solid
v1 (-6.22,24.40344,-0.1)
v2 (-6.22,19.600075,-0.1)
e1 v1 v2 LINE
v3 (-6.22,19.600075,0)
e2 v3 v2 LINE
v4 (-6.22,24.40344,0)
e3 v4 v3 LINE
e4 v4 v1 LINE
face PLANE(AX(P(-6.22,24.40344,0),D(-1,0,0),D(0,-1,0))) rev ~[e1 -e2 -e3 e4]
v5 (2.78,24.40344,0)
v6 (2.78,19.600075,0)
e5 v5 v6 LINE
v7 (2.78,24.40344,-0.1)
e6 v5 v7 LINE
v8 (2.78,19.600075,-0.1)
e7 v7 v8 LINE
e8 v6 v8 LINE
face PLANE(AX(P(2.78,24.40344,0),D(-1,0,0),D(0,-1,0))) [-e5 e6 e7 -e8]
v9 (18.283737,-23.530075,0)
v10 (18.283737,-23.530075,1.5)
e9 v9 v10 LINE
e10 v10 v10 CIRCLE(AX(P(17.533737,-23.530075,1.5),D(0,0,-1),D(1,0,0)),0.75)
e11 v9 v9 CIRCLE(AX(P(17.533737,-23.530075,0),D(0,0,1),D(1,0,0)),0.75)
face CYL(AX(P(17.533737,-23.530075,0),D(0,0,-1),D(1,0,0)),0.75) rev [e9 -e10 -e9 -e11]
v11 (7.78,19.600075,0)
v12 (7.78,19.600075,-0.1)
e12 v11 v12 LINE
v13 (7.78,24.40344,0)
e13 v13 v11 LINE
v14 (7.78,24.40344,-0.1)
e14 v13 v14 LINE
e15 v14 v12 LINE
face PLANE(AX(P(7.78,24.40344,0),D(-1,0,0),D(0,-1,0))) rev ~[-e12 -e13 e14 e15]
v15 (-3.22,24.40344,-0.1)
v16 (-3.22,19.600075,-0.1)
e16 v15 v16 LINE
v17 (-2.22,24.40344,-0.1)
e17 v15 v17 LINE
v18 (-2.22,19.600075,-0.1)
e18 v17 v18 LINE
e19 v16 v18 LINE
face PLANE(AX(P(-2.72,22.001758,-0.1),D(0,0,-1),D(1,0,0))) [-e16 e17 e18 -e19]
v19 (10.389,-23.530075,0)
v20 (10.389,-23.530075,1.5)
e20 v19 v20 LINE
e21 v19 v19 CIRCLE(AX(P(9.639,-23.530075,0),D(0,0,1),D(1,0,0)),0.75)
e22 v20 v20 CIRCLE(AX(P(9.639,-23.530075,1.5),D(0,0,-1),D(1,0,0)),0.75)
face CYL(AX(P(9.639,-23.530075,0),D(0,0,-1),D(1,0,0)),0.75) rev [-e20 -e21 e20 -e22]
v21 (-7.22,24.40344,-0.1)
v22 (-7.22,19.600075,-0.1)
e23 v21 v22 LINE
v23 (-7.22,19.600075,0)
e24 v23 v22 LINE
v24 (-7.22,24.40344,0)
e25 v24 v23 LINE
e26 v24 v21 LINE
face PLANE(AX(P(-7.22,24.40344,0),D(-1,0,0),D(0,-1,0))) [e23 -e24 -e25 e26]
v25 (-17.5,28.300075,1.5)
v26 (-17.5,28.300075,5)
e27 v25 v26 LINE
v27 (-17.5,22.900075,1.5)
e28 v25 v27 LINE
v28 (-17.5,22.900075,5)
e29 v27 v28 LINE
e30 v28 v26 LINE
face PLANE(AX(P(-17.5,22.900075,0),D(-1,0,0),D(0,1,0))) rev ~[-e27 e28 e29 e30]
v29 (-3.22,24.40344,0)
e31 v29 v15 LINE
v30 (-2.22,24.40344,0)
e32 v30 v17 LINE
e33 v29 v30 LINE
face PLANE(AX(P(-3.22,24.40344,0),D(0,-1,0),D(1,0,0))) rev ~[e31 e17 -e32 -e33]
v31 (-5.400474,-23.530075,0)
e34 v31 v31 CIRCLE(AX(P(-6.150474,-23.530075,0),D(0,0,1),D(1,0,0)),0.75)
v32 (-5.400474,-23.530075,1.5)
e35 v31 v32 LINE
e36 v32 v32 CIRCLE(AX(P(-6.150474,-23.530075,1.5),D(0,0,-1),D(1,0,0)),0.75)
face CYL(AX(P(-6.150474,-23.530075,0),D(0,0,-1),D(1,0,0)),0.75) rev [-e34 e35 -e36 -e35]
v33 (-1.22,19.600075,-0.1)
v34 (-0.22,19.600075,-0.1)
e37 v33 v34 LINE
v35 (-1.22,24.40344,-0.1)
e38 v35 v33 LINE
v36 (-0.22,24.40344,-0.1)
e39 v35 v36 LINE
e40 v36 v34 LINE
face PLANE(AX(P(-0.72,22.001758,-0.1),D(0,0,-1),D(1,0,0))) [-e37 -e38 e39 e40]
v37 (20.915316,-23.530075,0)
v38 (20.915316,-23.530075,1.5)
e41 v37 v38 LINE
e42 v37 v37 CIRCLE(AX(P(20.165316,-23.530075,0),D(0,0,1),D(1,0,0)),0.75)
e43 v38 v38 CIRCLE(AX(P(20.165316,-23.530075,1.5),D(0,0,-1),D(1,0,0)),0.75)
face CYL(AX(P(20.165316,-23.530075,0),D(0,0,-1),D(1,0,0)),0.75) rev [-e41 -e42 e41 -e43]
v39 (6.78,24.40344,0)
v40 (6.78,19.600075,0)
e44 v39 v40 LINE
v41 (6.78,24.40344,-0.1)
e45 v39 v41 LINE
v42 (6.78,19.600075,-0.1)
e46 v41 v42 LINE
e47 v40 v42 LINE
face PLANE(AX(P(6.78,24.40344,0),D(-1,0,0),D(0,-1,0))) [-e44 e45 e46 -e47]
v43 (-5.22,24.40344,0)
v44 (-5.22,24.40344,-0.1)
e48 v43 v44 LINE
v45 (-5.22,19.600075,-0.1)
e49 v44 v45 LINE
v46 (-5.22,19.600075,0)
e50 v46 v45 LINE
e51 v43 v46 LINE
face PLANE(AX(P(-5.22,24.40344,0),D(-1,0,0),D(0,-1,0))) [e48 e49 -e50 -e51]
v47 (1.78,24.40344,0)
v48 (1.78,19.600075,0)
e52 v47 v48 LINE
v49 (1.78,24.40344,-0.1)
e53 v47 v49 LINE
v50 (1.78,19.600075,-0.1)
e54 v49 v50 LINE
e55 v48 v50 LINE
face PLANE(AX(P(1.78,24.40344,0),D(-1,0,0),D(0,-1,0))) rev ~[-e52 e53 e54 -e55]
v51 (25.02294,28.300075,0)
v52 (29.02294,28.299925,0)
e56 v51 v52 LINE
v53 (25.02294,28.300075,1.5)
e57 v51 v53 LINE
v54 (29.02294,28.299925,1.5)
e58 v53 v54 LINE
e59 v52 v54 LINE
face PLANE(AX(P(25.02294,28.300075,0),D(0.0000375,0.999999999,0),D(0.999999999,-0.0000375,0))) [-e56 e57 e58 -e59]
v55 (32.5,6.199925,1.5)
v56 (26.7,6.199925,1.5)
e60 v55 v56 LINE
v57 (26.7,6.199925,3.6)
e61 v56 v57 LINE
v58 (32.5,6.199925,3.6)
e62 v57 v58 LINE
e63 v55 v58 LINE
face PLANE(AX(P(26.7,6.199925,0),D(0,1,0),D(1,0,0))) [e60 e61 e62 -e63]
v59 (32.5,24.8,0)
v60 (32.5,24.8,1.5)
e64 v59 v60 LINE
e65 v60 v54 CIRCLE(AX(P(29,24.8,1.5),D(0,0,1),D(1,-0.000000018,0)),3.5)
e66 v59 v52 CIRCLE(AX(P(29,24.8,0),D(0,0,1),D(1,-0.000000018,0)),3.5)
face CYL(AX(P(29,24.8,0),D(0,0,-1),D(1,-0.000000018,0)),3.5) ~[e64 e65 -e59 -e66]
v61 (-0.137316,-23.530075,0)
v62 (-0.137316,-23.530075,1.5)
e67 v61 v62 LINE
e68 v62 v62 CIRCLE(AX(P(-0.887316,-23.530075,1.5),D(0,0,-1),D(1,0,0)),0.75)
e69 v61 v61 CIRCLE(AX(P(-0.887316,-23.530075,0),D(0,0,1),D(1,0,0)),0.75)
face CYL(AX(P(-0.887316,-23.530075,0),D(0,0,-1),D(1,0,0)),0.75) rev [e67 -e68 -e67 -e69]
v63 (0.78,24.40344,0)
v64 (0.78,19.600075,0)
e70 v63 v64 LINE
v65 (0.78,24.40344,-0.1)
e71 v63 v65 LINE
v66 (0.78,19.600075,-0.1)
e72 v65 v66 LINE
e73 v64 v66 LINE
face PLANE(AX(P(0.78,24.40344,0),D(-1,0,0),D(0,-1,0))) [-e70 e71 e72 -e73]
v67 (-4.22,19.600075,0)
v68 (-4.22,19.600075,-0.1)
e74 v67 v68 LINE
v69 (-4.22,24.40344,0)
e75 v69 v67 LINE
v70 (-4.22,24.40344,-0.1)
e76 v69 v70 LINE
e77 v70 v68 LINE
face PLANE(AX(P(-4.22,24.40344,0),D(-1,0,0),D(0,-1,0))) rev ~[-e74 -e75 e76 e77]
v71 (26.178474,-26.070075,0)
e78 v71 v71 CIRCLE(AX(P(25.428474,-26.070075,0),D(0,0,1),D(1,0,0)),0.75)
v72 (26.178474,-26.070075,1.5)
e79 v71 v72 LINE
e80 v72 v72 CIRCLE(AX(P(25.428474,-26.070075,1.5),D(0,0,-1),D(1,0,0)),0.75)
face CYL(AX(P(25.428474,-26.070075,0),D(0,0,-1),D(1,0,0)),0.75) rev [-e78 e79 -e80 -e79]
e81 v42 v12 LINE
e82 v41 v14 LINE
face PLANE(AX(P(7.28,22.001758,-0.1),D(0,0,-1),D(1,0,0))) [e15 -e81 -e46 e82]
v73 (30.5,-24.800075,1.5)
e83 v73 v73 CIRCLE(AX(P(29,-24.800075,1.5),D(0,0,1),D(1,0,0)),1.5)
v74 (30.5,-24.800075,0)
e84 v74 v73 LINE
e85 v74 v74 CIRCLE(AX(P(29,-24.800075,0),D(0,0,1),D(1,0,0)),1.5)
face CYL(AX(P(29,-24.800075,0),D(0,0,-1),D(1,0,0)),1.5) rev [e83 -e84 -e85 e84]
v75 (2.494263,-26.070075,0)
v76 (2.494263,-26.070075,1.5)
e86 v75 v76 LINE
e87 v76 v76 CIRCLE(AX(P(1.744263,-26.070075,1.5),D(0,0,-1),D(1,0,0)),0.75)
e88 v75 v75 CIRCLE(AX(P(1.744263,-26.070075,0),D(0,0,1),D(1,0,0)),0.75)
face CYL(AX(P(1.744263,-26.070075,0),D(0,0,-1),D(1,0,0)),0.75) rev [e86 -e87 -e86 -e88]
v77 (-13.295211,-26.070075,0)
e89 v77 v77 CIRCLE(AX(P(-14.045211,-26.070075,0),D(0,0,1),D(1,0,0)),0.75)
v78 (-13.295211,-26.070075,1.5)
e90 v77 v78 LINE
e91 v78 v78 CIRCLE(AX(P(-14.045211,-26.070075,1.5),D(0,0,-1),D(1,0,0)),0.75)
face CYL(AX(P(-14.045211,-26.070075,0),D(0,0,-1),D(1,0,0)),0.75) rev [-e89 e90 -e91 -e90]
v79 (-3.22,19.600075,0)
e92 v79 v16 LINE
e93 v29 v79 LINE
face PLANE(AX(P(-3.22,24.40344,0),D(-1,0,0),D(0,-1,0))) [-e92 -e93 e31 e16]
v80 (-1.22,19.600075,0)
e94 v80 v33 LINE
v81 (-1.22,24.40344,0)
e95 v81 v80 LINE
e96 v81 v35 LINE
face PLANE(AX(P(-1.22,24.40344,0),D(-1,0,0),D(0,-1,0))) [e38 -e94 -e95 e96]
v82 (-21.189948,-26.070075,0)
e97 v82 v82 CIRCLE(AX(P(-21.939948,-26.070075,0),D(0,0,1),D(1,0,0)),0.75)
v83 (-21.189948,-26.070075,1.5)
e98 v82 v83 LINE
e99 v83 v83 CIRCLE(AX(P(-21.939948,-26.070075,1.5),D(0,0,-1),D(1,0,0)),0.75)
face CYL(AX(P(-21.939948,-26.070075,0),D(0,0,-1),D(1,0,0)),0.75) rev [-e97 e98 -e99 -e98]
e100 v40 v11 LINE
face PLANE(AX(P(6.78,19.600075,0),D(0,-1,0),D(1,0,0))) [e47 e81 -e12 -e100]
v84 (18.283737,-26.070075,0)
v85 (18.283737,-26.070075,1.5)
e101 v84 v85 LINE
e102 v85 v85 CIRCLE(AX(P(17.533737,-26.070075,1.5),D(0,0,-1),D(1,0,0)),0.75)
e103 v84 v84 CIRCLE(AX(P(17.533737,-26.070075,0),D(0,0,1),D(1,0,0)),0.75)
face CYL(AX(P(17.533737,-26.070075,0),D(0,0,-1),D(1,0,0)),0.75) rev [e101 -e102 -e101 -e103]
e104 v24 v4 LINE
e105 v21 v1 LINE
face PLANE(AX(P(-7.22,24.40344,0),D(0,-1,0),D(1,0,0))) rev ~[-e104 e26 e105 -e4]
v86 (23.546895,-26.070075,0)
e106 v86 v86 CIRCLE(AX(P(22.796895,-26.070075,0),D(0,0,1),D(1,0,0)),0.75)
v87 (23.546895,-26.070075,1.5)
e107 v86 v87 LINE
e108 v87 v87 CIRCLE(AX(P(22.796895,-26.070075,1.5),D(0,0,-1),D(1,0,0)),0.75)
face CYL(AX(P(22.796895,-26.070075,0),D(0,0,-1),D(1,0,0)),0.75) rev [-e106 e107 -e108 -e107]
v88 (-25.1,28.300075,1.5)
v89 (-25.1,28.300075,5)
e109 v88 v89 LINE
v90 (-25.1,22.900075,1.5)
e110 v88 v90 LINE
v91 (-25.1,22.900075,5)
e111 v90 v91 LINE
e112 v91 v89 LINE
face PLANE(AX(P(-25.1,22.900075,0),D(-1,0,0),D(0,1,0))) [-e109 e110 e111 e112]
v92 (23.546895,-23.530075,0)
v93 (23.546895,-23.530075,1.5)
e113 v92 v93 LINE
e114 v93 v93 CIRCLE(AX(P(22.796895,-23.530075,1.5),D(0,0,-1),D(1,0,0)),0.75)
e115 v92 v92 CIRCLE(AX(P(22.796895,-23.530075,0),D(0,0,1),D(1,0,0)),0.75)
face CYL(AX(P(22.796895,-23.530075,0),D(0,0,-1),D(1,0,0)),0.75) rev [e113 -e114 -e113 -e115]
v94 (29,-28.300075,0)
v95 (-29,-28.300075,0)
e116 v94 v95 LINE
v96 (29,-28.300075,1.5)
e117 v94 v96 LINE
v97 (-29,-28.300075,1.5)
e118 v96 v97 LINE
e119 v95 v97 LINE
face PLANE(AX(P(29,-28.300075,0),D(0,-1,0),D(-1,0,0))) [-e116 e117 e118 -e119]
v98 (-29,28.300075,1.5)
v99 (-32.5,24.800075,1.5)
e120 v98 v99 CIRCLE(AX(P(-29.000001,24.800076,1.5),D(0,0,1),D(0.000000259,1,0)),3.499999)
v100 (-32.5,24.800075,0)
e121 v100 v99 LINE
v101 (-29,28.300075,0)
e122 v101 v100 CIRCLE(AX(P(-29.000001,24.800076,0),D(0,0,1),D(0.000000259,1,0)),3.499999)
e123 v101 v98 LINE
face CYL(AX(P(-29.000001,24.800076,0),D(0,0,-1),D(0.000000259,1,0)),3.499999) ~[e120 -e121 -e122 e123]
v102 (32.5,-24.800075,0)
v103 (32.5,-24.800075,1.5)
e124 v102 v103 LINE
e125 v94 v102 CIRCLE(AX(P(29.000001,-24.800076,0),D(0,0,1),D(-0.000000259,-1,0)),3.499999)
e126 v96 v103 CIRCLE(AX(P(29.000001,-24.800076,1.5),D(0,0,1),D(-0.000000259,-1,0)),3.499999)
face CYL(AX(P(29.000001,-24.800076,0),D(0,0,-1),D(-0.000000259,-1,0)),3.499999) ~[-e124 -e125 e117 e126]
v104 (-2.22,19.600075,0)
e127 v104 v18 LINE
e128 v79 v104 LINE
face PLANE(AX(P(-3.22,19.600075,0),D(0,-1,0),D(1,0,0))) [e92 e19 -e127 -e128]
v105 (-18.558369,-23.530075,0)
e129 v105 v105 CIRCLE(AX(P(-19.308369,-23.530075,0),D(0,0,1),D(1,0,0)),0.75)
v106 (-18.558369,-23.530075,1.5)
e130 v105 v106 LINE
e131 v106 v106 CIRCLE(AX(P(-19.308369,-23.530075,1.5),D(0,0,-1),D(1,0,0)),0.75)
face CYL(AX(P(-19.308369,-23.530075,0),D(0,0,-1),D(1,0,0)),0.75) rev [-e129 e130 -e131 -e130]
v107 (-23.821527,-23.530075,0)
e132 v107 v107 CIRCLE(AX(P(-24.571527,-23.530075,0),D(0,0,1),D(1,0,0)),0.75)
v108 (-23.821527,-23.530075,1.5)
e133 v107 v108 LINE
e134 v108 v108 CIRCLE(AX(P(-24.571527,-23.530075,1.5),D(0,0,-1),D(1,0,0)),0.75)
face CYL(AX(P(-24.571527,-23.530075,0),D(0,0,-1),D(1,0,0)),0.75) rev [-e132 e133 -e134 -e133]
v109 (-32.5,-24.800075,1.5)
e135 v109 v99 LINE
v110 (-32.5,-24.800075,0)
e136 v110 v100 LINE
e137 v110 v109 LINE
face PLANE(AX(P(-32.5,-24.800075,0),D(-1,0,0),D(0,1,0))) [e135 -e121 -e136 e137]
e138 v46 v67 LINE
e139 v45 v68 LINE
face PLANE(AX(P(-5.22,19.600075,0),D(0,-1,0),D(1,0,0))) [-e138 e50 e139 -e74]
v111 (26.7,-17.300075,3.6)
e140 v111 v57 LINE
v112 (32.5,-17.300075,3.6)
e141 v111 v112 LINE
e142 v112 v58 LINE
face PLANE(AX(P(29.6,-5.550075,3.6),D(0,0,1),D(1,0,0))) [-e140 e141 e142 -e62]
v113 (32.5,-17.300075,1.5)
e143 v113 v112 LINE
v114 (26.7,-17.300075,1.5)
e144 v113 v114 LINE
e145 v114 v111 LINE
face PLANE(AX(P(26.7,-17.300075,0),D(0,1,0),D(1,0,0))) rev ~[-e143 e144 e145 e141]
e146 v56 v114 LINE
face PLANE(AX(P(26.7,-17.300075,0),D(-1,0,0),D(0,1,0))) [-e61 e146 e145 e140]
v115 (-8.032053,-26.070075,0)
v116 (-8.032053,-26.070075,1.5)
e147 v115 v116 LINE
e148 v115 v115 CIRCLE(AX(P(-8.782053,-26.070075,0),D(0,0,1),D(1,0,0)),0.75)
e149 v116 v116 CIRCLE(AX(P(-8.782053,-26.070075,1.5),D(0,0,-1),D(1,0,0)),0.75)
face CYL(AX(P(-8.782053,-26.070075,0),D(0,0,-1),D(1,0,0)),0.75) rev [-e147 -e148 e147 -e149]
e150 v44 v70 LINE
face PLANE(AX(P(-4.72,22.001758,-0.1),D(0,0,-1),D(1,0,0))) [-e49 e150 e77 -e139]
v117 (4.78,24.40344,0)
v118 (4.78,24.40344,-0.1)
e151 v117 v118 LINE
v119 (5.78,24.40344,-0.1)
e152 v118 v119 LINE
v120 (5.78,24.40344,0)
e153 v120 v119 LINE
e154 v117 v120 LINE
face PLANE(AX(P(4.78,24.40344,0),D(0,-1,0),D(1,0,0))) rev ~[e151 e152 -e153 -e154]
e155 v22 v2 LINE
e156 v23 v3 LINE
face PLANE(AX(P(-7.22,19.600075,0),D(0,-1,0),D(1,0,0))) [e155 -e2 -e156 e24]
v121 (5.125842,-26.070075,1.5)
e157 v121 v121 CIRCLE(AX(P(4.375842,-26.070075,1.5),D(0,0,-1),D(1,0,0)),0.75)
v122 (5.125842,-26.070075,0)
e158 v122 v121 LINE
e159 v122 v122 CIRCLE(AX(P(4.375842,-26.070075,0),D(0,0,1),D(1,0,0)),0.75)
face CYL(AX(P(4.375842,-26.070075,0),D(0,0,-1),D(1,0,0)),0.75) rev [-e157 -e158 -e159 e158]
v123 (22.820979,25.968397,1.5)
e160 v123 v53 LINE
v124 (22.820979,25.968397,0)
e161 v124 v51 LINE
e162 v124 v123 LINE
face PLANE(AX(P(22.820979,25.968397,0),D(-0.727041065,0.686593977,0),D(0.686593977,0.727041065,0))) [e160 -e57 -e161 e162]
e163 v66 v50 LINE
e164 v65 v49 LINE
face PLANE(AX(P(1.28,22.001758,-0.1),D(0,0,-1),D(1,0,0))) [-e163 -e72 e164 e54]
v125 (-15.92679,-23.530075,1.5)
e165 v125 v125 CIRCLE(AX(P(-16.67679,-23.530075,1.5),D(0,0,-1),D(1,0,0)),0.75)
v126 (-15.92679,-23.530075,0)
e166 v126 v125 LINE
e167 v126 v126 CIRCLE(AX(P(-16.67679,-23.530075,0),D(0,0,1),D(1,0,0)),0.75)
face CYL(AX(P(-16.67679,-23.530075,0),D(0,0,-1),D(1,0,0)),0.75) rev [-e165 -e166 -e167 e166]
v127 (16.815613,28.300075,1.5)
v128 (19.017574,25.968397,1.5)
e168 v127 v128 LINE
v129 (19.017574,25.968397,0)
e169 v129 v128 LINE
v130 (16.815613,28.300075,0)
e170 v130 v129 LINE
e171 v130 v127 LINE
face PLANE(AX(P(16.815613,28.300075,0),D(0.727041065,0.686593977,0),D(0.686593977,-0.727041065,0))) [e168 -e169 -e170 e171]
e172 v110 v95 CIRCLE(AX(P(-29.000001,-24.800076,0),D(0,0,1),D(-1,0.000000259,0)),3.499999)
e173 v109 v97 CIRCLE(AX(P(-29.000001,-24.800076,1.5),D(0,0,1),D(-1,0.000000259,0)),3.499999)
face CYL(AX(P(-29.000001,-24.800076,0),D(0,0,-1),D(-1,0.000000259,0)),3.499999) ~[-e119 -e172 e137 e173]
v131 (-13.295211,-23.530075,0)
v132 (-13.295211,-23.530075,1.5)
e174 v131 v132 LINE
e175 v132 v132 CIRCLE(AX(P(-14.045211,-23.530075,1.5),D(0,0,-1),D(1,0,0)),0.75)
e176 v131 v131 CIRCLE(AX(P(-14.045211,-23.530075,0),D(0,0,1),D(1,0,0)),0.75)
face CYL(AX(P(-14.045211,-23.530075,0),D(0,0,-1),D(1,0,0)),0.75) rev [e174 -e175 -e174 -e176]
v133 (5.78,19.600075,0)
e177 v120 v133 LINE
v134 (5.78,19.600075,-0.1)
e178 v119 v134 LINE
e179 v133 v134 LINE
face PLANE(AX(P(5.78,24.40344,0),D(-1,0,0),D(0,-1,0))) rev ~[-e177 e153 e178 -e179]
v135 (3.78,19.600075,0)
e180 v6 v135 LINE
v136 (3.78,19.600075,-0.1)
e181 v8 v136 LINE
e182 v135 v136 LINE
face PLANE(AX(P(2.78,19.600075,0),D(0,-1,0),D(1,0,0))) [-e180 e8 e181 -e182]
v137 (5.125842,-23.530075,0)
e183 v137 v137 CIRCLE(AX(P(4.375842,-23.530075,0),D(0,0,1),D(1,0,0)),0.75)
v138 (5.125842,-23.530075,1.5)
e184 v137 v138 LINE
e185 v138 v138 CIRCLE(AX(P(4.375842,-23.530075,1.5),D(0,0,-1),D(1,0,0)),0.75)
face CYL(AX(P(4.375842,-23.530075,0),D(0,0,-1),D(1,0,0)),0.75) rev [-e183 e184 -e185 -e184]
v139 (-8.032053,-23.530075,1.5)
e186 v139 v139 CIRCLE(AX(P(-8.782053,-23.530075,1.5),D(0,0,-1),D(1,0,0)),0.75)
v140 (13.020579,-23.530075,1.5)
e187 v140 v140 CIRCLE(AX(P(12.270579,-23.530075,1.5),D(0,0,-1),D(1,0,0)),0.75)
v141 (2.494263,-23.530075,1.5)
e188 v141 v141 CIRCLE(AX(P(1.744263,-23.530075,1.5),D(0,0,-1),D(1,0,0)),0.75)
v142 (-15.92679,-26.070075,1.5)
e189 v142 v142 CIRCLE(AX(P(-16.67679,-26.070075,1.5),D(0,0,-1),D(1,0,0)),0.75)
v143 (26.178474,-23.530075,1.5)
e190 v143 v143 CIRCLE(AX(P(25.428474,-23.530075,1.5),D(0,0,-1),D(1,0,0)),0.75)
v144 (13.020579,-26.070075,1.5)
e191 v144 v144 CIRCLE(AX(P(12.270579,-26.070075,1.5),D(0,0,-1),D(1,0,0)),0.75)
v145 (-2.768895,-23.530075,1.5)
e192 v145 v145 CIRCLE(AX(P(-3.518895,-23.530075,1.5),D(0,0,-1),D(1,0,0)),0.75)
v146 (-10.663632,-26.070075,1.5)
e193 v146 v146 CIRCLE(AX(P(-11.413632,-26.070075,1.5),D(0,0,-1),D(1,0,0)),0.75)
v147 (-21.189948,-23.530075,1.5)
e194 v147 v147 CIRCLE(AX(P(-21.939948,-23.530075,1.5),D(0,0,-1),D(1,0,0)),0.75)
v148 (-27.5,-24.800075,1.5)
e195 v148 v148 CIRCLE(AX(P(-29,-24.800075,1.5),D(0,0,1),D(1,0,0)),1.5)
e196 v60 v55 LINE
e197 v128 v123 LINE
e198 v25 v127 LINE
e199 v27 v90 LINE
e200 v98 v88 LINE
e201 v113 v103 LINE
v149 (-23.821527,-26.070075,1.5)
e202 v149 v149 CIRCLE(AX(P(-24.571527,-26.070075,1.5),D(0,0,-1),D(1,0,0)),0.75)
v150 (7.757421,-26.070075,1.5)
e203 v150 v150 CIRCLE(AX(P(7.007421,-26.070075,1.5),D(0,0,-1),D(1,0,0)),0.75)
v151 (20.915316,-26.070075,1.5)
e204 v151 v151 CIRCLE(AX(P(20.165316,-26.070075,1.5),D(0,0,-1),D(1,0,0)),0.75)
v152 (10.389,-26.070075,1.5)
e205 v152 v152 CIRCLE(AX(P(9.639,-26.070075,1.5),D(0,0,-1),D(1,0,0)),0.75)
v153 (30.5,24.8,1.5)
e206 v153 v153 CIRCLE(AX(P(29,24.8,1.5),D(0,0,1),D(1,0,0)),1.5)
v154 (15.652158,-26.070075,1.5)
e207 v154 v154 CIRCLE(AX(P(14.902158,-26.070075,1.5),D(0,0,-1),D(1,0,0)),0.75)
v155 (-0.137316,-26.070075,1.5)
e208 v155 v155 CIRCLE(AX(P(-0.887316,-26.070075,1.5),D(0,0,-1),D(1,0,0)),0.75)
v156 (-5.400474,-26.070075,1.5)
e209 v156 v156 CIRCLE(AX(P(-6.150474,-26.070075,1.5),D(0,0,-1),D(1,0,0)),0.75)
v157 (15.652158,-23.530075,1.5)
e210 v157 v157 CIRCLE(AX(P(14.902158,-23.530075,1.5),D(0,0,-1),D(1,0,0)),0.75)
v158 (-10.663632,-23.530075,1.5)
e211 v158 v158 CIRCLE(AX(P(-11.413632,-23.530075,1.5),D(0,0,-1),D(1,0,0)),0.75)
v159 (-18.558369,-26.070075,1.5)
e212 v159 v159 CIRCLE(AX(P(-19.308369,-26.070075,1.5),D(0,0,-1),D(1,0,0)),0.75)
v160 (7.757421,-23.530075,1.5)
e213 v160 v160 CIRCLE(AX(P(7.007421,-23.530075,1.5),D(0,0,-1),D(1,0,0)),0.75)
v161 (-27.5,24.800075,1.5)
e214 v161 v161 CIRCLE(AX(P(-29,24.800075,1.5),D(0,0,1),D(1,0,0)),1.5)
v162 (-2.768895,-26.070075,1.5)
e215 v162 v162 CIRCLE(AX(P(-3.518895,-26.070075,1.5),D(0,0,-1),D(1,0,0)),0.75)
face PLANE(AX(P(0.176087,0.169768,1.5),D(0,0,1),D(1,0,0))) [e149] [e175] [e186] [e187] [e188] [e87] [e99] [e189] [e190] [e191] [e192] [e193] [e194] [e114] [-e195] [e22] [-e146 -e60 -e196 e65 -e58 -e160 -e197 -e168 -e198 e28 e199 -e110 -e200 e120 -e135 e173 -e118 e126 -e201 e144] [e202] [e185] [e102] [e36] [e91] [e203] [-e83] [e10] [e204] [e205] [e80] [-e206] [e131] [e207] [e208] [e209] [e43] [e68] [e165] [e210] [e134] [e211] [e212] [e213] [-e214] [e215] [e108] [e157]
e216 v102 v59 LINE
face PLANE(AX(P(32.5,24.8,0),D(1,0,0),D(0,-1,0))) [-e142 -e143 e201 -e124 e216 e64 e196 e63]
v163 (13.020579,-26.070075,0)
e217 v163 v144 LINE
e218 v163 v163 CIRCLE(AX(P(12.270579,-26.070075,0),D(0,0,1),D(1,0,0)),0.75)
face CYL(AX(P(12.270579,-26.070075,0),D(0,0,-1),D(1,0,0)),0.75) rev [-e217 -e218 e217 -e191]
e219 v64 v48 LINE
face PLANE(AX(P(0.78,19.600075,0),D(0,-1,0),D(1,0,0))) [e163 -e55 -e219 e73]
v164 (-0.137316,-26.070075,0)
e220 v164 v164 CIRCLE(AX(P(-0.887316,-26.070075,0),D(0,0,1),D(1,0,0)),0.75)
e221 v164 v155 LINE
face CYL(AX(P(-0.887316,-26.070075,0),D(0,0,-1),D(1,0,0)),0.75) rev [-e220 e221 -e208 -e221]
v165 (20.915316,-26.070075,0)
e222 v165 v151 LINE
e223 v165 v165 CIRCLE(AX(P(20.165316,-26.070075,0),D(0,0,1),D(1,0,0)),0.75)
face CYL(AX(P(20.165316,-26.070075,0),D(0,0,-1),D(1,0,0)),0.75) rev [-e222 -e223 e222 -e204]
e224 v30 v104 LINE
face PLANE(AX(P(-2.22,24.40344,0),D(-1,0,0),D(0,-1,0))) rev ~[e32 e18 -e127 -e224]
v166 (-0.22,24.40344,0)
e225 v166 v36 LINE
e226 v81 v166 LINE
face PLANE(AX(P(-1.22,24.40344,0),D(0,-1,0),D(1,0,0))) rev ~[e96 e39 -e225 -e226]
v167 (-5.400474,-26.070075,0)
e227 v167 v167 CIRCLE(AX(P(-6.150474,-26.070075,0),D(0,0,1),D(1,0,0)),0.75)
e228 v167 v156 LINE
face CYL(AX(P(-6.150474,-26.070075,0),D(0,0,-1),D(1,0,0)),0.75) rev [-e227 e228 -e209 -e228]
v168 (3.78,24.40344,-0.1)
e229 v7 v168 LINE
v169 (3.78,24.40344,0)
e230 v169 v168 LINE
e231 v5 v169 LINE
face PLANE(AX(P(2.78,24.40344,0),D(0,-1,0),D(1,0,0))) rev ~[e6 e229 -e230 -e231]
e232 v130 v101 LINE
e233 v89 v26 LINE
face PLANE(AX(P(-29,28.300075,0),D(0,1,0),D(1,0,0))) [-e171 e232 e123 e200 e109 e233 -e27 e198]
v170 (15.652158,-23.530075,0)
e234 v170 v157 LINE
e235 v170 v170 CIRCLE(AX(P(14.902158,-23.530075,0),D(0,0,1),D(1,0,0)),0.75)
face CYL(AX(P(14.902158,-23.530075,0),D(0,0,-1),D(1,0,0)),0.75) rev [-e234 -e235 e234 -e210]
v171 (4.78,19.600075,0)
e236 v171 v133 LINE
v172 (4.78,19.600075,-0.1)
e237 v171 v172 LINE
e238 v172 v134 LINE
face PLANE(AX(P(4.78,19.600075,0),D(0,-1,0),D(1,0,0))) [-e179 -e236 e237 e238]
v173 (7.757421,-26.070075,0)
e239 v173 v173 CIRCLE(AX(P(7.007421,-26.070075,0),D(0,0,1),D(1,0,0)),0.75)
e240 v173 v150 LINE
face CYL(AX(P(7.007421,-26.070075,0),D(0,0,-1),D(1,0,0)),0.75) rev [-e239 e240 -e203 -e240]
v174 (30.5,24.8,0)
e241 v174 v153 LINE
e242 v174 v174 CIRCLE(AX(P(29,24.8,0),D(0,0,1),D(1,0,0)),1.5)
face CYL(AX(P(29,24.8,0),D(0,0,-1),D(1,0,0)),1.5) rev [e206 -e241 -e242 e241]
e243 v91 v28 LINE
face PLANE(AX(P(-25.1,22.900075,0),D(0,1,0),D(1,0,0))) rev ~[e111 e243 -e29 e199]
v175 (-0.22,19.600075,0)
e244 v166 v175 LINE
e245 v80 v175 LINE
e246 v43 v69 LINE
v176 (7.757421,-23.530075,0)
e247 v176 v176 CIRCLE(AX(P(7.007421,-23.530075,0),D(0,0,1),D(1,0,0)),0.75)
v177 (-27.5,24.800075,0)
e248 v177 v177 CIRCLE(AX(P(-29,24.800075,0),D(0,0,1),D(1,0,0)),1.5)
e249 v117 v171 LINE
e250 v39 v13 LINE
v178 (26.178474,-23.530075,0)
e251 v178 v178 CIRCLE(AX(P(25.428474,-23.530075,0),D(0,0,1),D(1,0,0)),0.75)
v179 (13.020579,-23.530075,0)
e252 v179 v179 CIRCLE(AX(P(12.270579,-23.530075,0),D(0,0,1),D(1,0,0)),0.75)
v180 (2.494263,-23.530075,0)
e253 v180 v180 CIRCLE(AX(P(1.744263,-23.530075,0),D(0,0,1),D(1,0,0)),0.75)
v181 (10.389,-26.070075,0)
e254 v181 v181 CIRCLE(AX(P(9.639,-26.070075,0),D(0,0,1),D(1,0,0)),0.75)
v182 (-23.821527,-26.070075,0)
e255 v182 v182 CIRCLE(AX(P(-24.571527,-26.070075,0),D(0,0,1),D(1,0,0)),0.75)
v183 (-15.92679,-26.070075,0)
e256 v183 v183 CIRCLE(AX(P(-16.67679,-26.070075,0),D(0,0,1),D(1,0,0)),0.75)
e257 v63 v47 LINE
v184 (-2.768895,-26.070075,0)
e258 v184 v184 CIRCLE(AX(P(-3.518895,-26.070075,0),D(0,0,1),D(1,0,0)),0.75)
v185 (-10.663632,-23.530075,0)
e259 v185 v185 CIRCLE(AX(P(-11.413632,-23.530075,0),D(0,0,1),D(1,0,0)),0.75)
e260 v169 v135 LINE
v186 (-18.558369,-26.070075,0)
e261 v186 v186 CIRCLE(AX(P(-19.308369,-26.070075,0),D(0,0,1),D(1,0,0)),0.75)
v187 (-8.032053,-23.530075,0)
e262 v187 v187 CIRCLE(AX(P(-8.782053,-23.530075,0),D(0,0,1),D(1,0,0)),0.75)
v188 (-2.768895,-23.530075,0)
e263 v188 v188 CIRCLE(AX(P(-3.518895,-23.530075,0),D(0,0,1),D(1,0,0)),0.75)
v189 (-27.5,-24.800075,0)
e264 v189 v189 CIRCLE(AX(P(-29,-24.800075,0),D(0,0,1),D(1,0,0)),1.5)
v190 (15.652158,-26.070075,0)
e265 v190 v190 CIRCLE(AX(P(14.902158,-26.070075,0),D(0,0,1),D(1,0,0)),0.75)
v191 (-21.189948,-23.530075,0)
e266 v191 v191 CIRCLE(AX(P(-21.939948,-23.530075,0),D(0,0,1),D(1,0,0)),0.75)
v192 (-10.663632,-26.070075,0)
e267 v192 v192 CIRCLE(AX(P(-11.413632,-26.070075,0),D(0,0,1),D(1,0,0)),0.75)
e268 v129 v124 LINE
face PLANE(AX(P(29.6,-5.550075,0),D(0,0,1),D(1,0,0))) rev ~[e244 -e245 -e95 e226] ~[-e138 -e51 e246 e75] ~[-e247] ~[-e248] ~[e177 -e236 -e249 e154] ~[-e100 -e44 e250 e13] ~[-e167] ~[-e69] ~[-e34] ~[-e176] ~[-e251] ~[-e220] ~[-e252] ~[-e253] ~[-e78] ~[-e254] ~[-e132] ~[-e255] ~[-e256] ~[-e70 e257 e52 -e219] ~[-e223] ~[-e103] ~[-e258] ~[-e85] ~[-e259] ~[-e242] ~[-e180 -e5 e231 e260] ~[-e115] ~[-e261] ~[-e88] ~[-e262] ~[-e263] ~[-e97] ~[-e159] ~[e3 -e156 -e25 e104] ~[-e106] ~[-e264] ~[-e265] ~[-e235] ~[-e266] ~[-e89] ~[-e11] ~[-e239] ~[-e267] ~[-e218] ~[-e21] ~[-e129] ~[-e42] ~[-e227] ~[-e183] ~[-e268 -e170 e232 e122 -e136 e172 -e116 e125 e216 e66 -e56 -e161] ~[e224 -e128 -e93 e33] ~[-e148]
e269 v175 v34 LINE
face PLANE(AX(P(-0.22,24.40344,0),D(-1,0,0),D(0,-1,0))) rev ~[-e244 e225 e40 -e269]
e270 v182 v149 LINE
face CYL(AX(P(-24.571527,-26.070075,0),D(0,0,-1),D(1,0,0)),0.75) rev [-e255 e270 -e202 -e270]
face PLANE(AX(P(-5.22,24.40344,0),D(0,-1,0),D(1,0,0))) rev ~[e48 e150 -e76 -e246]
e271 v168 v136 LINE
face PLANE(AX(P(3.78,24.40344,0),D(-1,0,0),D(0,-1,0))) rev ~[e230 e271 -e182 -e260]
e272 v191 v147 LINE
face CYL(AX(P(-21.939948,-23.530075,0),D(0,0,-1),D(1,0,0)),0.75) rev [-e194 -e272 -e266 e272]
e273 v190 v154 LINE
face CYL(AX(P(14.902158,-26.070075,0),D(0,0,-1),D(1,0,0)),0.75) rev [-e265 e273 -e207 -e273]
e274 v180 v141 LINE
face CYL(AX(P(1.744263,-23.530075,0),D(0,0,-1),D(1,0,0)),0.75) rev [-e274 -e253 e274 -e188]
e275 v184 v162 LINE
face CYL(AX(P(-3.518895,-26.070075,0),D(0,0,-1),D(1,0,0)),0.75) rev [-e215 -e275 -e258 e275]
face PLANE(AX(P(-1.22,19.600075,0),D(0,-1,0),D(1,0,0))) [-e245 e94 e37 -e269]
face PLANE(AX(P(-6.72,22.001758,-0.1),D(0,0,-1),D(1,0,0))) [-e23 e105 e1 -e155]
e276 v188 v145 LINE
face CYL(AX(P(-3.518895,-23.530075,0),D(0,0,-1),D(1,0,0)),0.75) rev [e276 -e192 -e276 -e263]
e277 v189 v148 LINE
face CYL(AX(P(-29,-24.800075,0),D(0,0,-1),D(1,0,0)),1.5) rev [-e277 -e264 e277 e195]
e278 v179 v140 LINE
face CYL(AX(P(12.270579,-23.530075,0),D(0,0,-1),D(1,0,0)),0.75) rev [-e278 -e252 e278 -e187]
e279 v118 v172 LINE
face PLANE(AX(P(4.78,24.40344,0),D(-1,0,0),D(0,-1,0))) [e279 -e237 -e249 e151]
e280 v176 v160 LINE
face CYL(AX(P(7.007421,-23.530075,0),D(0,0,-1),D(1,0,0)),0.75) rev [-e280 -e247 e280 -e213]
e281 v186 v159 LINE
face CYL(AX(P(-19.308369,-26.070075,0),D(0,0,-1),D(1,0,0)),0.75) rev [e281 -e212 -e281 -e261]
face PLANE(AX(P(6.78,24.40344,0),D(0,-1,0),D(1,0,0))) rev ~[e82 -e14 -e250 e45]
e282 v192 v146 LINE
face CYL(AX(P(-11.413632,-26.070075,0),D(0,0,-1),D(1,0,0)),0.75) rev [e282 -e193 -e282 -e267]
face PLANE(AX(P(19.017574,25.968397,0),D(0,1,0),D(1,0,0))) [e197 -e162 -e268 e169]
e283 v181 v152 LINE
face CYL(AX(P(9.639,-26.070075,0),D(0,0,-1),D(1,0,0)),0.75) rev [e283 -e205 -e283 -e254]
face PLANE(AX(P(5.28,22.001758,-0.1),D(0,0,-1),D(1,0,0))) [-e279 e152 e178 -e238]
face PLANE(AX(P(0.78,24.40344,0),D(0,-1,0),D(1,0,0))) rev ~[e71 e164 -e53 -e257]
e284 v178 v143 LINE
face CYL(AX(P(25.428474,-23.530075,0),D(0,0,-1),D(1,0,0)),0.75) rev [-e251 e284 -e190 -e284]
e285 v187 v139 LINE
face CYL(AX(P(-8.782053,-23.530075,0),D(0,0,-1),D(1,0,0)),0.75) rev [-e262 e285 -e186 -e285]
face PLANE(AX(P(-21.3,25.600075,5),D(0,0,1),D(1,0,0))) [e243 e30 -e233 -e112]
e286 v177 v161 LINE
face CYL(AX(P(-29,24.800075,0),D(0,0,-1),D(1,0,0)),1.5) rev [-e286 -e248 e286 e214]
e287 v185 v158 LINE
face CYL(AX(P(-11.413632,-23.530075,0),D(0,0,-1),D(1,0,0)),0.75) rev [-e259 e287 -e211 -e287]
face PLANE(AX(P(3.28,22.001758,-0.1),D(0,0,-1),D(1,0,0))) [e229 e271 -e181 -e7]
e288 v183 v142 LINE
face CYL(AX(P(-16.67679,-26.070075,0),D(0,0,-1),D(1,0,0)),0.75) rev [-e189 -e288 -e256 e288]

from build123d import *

# Parameters (mm, degrees)
SKETCH_R               = 1.5
PAD_DEPTH              = 1.5
SKETCH001_W            = 7.6
SKETCH001_H            = 5.4
PAD001_DEPTH           = 5
SKETCH002_R            = 0.75
POCKET_DEPTH           = 5
LINEARPATTERN_COUNT    = 20
LINEARPATTERN_PITCH    = 2.631579
SKETCH003_W            = 5.8
SKETCH003_H            = 23.5
PAD002_DEPTH           = 3.6
SKETCH004_W            = 1
SKETCH004_H            = 4.803365
PAD003_DEPTH           = 0.1
LINEARPATTERN001_COUNT = 8
LINEARPATTERN001_PITCH = 2


with BuildPart() as part:
    # Sketch → Pad (new body)
    with BuildSketch(Plane.XY):
        with BuildLine():
            ThreePointArc((-29, 28.300075), (-31.474874, 27.274949), (-32.5, 24.800075))
            Line((-32.5, -24.800075), (-32.5, 24.800075))
            ThreePointArc((-32.5, -24.800075), (-31.474874, -27.274949), (-29, -28.300075))
            Line((29, -28.300075), (-29, -28.300075))
            ThreePointArc((29, -28.300075), (31.474874, -27.274949), (32.5, -24.800075))
            Line((32.5, 24.8), (32.5, -24.800075))
            ThreePointArc((32.5, 24.8), (31.482971, 27.26675), (29.02294, 28.299925))
            Line((25.02294, 28.300075), (29.02294, 28.299925))
            Line((22.820979, 25.968397), (25.02294, 28.300075))
            Line((19.017574, 25.968397), (22.820979, 25.968397))
            Line((16.815613, 28.300075), (19.017574, 25.968397))
            Line((-29, 28.300075), (16.815613, 28.300075))
        make_face()
        with Locations((-29, 24.800075)):
            Circle(SKETCH_R, mode=Mode.SUBTRACT)
        with Locations((29, 24.8)):
            Circle(SKETCH_R, mode=Mode.SUBTRACT)
        with Locations((29, -24.800075)):
            Circle(SKETCH_R, mode=Mode.SUBTRACT)
        with Locations((-29, -24.800075)):
            Circle(SKETCH_R, mode=Mode.SUBTRACT)
    extrude(amount=PAD_DEPTH)

    # Sketch001 → Pad001 (join)
    with BuildSketch(Plane.XY):
        with Locations((-21.3, 25.600075)):
            Rectangle(SKETCH001_W, SKETCH001_H)
    extrude(amount=PAD001_DEPTH)

    # Sketch002 → Pocket (cut)
    with BuildSketch(Plane.XY):
        with Locations((-24.571527, -23.530075)):
            Circle(SKETCH002_R)
        with Locations((-24.571527, -26.070075)):
            Circle(SKETCH002_R)
    pocket = extrude(amount=POCKET_DEPTH, mode=Mode.SUBTRACT)

    # LinearPattern: Pocket ×20
    with Locations(*[(i * LINEARPATTERN_PITCH, 0, 0) for i in range(1, LINEARPATTERN_COUNT)]):
        add(pocket, mode=Mode.SUBTRACT)

    # Sketch003 → Pad002 (join)
    with BuildSketch(Plane.XY):
        with Locations((29.6, -5.550075)):
            Rectangle(SKETCH003_W, SKETCH003_H)
    extrude(amount=PAD002_DEPTH)

    # Sketch004 (on Face66 of Pad002) → Pad003 (join)
    with BuildSketch(Plane(origin=(0, 0, 0), x_dir=(1, 0, 0), z_dir=(0, 0, -1))):
        with Locations((-6.72, -22.001758)):
            Rectangle(SKETCH004_W, SKETCH004_H)
    pad003 = extrude(amount=PAD003_DEPTH)

    # LinearPattern001: Pad003 ×8
    with Locations(*[(i * LINEARPATTERN001_PITCH, 0, 0) for i in range(1, LINEARPATTERN001_COUNT)]):
        add(pad003)


solid = part.part
